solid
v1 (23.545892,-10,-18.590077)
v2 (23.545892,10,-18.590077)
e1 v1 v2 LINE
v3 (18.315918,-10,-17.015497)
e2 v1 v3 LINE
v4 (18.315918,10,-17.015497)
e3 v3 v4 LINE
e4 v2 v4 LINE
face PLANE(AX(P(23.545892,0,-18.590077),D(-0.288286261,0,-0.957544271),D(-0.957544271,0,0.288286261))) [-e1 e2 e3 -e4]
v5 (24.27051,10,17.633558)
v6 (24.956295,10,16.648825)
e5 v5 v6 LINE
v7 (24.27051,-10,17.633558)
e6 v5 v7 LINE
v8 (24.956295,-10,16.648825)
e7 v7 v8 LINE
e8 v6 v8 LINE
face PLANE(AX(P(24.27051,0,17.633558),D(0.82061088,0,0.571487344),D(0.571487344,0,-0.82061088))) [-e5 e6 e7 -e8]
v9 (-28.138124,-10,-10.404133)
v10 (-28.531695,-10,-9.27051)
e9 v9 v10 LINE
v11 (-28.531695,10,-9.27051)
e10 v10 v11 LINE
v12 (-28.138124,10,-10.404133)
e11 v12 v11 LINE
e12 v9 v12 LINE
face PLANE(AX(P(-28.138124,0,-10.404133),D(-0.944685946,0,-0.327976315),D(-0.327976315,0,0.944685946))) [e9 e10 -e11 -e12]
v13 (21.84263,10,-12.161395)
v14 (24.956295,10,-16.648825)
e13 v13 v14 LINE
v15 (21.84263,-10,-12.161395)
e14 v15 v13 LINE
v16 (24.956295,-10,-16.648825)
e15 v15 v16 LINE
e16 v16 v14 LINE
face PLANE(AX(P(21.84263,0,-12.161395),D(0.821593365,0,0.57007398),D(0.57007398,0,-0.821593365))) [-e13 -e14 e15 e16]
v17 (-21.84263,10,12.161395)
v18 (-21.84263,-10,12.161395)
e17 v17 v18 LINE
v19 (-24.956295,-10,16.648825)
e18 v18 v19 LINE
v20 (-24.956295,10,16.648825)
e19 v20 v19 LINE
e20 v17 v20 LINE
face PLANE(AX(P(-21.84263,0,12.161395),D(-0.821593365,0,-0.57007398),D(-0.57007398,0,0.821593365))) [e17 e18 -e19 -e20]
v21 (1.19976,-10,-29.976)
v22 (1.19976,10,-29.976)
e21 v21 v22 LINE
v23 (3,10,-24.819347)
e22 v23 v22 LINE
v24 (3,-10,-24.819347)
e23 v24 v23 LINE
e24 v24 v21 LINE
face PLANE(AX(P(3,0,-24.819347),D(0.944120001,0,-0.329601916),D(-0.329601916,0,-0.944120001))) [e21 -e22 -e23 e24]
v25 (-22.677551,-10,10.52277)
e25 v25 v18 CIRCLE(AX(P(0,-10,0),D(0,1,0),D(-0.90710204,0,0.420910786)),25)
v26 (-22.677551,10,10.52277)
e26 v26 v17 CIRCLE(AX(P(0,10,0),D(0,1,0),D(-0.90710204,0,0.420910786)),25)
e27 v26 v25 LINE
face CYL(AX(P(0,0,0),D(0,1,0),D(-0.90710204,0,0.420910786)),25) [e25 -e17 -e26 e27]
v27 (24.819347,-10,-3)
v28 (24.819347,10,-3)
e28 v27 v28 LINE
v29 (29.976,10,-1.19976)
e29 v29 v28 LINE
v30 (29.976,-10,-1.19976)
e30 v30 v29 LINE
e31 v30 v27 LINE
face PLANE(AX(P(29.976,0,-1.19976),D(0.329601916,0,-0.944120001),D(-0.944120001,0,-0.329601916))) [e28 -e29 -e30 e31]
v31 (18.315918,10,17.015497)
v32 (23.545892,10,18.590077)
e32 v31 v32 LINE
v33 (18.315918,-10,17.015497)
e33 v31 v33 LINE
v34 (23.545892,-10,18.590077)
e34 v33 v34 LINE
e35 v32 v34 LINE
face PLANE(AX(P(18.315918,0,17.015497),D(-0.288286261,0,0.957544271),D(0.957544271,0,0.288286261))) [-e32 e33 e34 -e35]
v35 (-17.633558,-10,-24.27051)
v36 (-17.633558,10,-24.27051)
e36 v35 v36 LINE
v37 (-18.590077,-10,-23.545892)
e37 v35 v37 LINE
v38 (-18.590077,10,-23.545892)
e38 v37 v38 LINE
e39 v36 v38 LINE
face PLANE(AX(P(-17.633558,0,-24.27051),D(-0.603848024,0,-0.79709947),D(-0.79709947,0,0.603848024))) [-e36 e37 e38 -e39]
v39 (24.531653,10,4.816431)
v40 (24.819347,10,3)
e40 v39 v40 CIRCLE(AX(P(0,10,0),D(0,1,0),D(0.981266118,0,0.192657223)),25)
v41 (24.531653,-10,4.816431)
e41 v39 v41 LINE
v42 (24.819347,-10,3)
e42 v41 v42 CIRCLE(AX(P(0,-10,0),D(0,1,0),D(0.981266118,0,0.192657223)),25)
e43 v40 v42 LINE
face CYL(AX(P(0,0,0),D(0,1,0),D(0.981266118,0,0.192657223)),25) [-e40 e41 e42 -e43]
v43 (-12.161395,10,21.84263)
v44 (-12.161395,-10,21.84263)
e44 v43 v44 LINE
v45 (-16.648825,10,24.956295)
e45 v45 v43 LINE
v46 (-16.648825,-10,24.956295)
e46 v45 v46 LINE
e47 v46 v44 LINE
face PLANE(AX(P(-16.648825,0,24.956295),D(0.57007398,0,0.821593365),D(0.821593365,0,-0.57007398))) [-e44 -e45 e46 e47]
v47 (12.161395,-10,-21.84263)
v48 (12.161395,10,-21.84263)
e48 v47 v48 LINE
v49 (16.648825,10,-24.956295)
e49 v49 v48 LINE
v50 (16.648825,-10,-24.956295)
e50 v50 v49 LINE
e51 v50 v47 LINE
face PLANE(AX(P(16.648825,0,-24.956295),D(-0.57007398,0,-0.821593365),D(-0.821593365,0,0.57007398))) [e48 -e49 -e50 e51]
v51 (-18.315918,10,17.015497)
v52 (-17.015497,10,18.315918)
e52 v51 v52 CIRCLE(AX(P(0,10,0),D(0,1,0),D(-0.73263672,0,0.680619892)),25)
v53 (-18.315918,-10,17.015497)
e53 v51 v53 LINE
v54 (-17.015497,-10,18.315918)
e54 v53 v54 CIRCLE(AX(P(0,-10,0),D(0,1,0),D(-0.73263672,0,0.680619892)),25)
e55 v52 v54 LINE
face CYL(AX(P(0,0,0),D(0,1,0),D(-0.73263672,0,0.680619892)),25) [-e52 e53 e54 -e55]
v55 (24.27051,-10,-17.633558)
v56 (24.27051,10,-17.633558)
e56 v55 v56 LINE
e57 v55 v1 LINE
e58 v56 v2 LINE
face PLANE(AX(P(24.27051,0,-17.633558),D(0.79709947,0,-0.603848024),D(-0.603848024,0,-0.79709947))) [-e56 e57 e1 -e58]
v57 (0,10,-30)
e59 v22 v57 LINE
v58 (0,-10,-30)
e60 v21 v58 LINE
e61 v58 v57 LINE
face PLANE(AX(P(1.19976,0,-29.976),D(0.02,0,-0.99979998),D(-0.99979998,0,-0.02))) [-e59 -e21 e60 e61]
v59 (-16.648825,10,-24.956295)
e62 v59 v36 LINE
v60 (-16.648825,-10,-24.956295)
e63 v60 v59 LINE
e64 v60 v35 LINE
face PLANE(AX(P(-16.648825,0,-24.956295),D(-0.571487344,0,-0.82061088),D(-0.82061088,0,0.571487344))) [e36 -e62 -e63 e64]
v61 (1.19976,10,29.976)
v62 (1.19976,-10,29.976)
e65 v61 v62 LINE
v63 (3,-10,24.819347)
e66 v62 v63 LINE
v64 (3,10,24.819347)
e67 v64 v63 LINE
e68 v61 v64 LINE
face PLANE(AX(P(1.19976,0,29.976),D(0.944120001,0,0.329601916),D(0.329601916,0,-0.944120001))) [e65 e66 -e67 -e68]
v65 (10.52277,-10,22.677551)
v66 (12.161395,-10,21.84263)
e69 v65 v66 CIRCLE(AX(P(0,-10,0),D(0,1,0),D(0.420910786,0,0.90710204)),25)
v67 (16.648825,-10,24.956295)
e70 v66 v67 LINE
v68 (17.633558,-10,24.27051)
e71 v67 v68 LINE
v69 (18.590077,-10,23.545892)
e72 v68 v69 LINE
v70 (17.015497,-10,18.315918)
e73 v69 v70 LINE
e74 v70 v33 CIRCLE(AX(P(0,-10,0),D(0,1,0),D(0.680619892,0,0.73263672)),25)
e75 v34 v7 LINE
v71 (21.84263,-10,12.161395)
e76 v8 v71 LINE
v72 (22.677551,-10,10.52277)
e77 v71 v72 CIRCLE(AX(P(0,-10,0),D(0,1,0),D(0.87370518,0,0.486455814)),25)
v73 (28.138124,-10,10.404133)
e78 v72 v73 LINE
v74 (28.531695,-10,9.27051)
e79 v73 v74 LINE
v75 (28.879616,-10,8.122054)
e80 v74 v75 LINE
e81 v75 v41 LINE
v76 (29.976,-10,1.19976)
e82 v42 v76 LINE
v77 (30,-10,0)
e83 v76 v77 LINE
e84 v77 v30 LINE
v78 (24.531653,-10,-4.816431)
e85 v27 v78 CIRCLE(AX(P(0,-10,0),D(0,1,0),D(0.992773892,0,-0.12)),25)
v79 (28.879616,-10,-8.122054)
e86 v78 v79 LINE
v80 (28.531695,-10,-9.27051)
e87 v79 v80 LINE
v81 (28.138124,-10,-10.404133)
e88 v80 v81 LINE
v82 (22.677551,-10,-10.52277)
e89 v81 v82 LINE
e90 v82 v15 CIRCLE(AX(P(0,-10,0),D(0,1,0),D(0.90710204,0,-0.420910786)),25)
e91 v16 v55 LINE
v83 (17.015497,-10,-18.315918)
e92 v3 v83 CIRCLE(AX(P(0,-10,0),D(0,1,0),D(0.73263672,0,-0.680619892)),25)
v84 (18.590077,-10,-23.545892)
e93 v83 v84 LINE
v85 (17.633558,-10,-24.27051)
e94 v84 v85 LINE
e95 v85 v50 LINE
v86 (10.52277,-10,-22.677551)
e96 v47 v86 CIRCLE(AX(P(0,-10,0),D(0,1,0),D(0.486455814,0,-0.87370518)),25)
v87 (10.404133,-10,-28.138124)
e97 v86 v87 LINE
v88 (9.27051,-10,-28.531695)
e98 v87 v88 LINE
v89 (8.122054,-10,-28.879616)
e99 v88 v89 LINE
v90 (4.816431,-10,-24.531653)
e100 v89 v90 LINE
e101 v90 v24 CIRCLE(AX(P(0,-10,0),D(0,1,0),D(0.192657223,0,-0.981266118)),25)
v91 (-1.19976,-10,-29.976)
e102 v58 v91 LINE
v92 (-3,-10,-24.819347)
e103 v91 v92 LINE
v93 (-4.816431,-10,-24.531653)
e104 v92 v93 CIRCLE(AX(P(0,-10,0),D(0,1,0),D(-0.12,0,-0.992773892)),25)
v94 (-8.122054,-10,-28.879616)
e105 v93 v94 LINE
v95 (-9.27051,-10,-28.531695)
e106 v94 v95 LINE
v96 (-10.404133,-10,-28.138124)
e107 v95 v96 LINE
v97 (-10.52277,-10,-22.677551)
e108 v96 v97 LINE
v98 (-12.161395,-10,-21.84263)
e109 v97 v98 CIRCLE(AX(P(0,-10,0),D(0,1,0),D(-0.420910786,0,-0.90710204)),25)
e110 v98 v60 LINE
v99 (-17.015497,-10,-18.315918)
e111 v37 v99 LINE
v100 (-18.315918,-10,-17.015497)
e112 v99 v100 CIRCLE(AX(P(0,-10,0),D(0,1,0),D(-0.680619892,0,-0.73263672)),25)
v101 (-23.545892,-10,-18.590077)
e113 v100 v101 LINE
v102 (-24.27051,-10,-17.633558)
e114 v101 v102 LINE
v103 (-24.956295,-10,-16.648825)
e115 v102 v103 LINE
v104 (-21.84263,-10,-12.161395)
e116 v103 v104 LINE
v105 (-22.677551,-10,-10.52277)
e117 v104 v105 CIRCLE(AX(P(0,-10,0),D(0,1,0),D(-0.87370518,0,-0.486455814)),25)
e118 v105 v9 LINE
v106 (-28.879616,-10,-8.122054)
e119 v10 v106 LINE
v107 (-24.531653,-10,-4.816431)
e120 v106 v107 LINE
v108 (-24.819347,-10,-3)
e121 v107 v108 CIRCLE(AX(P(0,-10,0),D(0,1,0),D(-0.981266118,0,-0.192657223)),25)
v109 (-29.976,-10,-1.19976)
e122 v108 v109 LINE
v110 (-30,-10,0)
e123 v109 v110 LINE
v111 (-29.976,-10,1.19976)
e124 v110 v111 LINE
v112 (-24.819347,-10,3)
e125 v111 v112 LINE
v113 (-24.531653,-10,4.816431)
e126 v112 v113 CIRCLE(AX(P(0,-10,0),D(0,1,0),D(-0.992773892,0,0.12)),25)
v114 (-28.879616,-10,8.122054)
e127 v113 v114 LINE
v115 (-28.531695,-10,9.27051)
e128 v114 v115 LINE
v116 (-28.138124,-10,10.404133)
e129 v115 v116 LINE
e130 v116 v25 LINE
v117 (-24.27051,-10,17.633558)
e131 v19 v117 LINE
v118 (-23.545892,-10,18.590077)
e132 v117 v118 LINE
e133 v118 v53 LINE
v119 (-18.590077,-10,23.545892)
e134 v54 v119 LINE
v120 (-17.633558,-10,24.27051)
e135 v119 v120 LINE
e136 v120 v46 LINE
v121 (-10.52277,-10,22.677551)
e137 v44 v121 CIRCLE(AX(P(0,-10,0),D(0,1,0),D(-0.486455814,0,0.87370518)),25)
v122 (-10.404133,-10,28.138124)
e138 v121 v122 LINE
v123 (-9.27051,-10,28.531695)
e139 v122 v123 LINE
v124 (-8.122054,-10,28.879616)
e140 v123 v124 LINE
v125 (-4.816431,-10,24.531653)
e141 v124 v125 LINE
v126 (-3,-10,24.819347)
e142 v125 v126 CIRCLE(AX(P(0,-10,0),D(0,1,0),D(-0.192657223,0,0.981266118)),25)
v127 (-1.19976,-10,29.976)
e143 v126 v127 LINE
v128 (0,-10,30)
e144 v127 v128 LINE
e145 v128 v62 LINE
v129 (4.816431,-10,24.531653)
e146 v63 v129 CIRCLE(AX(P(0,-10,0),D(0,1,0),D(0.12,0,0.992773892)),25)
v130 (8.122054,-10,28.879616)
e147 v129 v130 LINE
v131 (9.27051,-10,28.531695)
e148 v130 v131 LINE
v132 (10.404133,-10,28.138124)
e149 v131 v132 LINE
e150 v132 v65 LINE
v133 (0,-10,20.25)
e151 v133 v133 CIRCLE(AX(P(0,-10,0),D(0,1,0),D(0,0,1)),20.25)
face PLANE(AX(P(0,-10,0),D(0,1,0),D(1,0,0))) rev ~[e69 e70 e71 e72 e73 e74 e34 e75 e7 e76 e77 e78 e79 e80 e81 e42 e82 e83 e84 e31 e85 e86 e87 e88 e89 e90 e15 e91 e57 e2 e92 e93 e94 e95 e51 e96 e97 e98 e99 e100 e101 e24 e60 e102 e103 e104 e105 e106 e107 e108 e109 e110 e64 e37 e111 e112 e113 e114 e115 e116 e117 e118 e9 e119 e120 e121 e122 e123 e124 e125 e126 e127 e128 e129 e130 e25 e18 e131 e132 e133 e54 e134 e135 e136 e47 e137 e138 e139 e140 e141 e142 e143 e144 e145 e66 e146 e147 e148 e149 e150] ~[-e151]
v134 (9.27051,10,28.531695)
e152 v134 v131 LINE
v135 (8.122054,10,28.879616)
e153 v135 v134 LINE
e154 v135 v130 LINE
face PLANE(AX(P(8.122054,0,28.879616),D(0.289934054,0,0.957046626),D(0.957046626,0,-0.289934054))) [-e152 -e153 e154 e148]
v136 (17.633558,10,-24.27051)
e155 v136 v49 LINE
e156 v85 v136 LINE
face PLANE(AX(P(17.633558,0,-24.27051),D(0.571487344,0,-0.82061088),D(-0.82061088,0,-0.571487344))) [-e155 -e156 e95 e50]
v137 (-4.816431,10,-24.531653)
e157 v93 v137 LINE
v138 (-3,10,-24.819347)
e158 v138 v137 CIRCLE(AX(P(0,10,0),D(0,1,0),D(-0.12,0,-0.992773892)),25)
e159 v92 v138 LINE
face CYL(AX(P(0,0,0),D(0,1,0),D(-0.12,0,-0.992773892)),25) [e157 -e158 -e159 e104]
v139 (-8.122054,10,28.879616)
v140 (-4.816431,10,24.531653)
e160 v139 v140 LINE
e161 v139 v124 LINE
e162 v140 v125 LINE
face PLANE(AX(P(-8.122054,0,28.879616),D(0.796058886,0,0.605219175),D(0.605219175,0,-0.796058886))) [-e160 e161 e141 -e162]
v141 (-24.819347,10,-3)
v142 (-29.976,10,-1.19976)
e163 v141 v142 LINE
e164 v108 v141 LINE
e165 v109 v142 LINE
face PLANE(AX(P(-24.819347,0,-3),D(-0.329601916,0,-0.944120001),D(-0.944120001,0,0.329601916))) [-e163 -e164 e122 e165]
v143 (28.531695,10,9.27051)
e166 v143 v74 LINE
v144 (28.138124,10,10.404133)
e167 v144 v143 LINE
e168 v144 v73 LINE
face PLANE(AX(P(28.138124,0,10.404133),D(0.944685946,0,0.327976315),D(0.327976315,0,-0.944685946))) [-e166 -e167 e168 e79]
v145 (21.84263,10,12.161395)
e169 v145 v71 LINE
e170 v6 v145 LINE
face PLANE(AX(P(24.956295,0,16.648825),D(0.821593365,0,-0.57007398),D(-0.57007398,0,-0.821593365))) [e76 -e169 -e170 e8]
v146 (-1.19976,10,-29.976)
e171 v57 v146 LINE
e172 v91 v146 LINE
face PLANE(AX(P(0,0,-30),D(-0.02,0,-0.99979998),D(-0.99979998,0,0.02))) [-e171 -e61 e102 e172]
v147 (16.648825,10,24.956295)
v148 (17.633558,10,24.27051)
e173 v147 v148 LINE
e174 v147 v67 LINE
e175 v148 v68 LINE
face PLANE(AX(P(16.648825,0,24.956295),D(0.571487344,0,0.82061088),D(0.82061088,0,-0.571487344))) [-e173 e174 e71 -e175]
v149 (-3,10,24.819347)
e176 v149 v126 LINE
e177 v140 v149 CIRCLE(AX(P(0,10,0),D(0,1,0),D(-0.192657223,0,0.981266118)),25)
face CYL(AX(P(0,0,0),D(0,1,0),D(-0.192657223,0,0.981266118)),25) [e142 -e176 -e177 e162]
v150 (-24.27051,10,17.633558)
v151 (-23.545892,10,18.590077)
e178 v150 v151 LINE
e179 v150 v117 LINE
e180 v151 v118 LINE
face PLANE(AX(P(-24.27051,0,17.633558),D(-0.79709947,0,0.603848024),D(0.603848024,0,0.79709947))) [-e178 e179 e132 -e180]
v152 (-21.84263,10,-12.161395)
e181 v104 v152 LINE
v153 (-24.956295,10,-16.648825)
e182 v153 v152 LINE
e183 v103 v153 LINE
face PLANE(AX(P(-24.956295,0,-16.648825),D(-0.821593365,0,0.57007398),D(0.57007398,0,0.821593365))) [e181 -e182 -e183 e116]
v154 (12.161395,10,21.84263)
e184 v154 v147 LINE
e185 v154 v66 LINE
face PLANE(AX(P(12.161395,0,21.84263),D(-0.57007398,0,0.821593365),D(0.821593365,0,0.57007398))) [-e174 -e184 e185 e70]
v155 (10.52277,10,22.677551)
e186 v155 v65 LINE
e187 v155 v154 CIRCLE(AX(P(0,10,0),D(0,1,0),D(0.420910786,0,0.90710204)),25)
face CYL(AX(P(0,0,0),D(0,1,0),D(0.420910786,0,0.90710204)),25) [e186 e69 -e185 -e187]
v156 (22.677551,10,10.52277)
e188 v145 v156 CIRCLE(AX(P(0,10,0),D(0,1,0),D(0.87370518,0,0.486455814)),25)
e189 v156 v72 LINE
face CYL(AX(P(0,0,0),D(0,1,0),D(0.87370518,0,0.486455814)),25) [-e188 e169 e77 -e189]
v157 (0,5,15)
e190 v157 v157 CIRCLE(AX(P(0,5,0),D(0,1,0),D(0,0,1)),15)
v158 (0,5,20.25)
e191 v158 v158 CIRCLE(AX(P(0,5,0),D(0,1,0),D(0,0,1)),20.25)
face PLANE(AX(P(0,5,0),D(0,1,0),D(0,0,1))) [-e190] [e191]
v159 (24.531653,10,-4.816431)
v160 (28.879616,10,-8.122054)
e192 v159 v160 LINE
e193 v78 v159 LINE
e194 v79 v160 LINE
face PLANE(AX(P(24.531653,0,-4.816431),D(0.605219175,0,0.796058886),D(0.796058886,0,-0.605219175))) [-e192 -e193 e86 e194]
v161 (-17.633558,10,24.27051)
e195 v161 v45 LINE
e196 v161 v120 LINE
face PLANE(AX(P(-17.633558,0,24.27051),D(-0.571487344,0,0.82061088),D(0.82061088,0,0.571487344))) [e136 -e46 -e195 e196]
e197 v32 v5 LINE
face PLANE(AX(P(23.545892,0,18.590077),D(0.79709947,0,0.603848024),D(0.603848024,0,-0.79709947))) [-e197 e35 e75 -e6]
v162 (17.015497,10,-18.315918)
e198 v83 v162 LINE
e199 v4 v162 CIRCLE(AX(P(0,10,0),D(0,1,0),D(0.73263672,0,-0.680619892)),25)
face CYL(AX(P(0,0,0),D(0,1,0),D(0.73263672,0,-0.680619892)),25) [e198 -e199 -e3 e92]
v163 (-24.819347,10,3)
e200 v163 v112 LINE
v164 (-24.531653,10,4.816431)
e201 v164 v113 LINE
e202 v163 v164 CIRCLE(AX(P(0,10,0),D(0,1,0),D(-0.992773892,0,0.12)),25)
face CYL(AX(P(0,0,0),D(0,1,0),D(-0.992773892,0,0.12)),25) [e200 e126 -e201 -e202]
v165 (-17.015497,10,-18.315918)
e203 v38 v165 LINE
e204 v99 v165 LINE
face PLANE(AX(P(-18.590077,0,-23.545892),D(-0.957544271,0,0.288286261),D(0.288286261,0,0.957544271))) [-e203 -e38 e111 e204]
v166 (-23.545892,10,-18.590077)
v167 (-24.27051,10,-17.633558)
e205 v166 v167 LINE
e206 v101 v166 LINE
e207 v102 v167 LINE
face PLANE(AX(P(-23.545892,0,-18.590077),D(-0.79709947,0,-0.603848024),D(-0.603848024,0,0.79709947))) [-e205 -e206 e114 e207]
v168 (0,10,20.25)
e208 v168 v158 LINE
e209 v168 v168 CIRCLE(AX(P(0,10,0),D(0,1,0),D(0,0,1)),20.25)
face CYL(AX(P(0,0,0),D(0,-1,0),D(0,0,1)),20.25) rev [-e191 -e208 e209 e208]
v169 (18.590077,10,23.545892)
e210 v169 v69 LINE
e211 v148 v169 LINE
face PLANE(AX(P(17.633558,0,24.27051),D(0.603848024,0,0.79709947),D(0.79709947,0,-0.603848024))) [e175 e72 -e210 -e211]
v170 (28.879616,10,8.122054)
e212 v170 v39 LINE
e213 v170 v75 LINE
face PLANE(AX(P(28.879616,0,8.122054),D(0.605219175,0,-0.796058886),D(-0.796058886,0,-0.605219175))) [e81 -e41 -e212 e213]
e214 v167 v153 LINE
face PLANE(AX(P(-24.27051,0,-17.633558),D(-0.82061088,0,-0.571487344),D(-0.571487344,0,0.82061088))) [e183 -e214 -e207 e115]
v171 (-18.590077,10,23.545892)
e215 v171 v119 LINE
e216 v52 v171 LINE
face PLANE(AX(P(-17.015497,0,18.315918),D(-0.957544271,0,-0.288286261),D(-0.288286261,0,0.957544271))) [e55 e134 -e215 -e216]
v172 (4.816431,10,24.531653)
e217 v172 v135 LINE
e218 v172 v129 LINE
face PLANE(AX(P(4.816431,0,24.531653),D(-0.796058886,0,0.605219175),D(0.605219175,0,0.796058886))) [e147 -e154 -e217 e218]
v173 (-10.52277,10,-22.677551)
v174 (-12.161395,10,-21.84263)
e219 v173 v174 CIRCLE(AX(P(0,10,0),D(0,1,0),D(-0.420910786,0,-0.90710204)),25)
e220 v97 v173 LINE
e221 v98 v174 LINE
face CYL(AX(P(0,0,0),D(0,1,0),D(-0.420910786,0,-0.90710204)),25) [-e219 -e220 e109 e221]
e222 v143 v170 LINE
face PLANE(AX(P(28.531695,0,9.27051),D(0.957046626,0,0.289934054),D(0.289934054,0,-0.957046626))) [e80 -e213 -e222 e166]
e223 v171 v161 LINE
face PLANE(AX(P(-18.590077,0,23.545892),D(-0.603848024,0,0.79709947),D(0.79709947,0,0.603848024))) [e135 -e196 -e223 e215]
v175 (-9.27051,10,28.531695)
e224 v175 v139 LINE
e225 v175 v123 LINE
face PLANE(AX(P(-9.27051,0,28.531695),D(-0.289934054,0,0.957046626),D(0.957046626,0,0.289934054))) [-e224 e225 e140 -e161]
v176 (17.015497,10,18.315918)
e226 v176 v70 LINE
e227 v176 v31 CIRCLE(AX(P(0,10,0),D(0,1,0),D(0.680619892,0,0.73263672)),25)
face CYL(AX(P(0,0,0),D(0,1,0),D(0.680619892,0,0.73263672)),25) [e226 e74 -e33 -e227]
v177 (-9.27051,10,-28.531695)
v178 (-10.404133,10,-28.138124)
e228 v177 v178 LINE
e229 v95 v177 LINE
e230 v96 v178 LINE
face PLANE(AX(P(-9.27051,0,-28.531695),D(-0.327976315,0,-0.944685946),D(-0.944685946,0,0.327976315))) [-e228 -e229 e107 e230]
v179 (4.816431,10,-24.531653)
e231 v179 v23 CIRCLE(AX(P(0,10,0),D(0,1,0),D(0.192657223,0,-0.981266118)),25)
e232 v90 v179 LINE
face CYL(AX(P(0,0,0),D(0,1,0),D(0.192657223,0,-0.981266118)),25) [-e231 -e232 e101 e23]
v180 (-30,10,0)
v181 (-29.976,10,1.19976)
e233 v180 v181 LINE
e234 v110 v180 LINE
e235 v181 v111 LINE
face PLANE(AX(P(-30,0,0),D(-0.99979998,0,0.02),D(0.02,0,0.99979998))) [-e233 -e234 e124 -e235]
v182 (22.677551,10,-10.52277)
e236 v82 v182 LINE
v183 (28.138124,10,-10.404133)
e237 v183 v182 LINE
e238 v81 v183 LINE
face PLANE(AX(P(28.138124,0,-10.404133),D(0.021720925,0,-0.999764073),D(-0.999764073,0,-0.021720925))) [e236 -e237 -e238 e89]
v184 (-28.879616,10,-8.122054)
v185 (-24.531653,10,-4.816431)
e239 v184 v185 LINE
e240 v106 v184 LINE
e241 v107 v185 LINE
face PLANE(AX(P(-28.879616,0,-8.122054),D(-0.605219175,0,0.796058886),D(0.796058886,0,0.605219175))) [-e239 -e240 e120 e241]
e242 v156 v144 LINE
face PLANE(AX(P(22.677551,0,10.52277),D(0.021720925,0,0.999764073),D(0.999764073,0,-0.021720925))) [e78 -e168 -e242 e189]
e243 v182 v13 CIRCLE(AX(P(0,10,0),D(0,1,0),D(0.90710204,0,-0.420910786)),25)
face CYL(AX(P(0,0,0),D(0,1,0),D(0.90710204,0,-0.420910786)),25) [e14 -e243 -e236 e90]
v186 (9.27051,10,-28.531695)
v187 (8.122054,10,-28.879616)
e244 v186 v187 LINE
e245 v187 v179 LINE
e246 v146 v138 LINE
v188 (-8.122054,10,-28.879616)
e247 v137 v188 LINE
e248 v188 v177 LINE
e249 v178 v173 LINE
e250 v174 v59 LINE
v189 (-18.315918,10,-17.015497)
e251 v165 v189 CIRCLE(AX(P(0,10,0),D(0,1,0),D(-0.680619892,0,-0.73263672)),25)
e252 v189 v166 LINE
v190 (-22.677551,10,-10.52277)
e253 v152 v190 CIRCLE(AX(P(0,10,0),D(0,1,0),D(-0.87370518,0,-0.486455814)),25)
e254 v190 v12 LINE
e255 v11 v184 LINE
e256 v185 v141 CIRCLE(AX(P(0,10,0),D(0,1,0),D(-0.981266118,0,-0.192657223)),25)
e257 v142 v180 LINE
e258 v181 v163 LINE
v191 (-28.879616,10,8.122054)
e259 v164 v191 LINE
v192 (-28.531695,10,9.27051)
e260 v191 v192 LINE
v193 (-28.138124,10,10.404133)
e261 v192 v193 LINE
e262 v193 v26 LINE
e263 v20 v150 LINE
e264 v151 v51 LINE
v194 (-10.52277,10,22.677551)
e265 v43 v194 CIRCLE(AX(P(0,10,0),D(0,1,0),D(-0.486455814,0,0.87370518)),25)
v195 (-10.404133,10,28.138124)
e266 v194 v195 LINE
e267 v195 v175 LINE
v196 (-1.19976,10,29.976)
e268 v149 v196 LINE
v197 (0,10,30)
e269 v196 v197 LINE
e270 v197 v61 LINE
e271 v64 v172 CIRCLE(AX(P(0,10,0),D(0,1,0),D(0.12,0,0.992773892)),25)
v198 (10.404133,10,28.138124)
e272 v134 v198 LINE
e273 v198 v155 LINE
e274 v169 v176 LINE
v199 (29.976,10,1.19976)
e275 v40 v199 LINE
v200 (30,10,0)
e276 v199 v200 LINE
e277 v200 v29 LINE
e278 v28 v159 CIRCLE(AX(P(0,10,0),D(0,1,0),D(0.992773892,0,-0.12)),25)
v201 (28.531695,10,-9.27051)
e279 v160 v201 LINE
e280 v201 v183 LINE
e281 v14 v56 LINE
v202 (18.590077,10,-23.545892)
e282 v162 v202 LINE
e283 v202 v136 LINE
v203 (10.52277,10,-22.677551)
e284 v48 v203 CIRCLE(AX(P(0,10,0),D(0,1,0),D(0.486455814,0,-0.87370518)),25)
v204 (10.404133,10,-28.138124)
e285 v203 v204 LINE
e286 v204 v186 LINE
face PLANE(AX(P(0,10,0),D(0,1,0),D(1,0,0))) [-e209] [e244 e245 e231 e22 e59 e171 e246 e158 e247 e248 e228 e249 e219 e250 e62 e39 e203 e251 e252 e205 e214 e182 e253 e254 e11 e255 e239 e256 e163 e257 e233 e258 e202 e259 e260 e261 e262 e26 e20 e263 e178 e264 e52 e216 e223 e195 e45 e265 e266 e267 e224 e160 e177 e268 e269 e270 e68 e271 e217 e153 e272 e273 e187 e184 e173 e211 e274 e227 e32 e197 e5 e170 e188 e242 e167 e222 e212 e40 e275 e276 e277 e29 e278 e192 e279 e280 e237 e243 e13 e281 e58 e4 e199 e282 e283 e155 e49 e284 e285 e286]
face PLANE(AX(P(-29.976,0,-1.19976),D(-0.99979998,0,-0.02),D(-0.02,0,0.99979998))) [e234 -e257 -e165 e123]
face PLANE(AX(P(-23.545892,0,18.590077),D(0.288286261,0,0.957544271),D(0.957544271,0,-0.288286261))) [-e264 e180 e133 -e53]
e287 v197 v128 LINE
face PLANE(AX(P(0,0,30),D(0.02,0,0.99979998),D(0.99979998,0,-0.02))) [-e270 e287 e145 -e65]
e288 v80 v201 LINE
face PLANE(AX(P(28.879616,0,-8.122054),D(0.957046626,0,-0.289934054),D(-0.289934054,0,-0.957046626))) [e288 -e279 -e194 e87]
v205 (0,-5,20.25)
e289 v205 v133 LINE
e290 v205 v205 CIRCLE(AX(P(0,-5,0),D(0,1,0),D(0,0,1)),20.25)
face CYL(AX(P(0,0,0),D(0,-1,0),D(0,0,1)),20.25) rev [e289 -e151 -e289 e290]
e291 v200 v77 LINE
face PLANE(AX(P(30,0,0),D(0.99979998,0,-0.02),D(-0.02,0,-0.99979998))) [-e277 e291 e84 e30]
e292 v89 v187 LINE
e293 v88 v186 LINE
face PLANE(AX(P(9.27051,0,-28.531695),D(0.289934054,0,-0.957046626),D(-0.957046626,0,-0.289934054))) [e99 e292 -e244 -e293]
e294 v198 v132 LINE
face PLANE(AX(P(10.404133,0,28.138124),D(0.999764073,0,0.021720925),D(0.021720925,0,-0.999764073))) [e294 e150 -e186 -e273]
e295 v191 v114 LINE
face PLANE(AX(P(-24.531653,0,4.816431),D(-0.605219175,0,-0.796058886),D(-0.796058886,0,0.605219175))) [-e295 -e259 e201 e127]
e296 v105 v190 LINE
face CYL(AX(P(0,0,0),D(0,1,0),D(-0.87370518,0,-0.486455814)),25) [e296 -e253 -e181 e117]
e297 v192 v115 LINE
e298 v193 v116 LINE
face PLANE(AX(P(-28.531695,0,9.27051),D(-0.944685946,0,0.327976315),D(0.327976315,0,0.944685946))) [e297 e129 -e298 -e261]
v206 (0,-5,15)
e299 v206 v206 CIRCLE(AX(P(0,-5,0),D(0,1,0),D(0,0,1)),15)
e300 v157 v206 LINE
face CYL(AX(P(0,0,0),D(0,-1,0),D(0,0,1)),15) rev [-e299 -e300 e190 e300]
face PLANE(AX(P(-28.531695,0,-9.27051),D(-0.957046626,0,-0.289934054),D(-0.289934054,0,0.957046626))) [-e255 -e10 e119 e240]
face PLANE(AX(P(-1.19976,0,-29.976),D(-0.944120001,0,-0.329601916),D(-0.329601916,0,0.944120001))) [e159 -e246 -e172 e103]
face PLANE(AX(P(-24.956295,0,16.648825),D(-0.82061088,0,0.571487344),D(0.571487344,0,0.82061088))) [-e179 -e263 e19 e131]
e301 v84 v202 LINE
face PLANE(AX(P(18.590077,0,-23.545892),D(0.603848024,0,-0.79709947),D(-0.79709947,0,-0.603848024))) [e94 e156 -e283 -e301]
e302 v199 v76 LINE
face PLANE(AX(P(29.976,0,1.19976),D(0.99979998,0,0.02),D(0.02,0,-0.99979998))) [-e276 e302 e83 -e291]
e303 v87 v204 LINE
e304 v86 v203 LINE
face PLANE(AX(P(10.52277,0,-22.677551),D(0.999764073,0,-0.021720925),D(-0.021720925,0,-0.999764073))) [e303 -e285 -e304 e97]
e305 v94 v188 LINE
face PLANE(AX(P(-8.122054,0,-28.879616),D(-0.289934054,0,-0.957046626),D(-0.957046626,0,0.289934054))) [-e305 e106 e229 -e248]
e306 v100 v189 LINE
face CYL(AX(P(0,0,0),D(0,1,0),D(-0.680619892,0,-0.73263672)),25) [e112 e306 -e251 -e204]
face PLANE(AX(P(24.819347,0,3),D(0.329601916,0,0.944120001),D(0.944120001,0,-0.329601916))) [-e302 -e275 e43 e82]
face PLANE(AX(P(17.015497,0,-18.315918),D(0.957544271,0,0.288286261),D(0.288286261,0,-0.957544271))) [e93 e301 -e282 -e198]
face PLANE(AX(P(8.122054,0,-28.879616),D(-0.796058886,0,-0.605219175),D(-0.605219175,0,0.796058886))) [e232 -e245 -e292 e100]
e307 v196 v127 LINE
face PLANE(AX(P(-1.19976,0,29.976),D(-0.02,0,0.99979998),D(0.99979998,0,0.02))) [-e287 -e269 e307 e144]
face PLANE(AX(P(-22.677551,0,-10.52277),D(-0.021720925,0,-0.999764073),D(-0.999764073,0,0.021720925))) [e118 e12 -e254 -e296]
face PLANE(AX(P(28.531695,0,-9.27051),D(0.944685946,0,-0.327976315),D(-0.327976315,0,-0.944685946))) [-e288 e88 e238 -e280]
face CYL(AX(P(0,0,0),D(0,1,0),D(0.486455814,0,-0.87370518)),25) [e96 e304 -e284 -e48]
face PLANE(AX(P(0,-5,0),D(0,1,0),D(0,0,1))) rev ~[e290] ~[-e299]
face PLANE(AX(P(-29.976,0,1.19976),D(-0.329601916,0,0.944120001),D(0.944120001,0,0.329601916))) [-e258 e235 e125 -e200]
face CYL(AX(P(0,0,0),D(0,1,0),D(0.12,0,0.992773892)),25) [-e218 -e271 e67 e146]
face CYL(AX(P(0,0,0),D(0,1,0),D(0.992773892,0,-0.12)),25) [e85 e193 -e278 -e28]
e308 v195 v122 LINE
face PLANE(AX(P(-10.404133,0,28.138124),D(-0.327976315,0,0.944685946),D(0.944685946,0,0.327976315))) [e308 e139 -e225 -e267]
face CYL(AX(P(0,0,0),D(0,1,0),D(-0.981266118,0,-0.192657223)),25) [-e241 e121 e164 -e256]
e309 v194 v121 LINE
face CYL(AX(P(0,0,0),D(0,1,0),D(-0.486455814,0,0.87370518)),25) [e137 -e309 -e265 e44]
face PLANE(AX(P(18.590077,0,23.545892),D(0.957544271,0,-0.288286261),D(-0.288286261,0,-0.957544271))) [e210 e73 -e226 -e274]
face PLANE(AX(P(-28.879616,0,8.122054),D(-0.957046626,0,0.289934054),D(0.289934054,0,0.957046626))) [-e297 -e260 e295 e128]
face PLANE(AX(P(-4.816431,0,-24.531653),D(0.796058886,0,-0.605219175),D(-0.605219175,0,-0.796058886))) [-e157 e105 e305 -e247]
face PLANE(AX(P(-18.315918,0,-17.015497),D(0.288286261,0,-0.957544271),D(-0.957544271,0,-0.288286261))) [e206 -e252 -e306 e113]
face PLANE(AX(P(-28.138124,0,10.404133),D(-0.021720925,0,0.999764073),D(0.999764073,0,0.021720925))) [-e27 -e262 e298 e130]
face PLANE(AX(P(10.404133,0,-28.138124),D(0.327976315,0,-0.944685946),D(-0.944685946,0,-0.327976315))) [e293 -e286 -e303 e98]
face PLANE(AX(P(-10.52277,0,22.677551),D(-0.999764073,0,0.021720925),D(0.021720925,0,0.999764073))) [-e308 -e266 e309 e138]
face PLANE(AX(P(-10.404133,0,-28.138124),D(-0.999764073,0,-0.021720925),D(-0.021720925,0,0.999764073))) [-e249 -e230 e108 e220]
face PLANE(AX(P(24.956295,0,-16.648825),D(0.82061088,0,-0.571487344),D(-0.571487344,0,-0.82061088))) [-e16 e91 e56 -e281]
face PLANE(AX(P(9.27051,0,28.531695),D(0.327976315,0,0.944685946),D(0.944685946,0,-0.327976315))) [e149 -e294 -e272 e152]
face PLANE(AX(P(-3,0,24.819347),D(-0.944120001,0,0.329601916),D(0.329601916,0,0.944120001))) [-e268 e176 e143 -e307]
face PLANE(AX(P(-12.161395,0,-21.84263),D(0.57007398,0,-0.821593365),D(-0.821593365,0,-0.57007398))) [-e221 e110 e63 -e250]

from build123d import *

# Parameters (mm, degrees)
SKETCH1_R           = 20.25
BOSS_EXTRUDE1_DEPTH = 10
SKETCH1_3_R         = 20.25
SKETCH1_3_R_2       = 15
BOSS_EXTRUDE2_DEPTH = 5


with BuildPart() as part:
    # Sketch1 → Boss-Extrude1 (new, symmetric)
    with BuildSketch(Plane(origin=(0, 0, 0), x_dir=(1, 0, 0), z_dir=(0, 1, 0))):
        with BuildLine():
            Line((29.976, -1.199759976), (30, 0))
            Line((30, 0), (29.976, 1.199759976))
            Line((29.976, 1.199759976), (24.819347292, 3))
            ThreePointArc((24.819347292, 3), (24.692208515, 3.910861626), (24.531652955, 4.816430554))
            Line((24.531652955, 4.816430554), (28.879616354, 8.12205388))
            Line((28.879616354, 8.12205388), (28.531695489, 9.270509831))
            Line((28.531695489, 9.270509831), (28.138123911, 10.404132967))
            Line((28.138123911, 10.404132967), (22.677550989, 10.522769651))
            ThreePointArc((22.677550989, 10.522769651), (22.275163105, 11.349762493), (21.842629505, 12.161395327))
            Line((21.842629505, 12.161395327), (24.956294644, 16.648824513))
            Line((24.956294644, 16.648824513), (24.270509831, 17.633557569))
            Line((24.270509831, 17.633557569), (23.545892203, 18.590076932))
            Line((23.545892203, 18.590076932), (18.315917992, 17.015497293))
            ThreePointArc((18.315917992, 17.015497293), (17.67766953, 17.67766953), (17.015497293, 18.315917992))
            Line((17.015497293, 18.315917992), (18.590076932, 23.545892203))
            Line((18.590076932, 23.545892203), (17.633557569, 24.270509831))
            Line((17.633557569, 24.270509831), (16.648824513, 24.956294644))
            Line((16.648824513, 24.956294644), (12.161395327, 21.842629505))
            ThreePointArc((12.161395327, 21.842629505), (11.349762493, 22.275163105), (10.522769651, 22.677550989))
            Line((10.522769651, 22.677550989), (10.404132967, 28.138123911))
            Line((10.404132967, 28.138123911), (9.270509831, 28.531695489))
            Line((9.270509831, 28.531695489), (8.12205388, 28.879616354))
            Line((8.12205388, 28.879616354), (4.816430554, 24.531652955))
            ThreePointArc((4.816430554, 24.531652955), (3.910861626, 24.692208515), (3, 24.819347292))
            Line((3, 24.819347292), (1.199759976, 29.976))
            Line((1.199759976, 29.976), (0, 30))
            Line((0, 30), (-1.199759976, 29.976))
            Line((-1.199759976, 29.976), (-3, 24.819347292))
            ThreePointArc((-3, 24.819347292), (-3.910861626, 24.692208515), (-4.816430554, 24.531652955))
            Line((-4.816430554, 24.531652955), (-8.12205388, 28.879616354))
            Line((-8.12205388, 28.879616354), (-9.270509831, 28.531695489))
            Line((-9.270509831, 28.531695489), (-10.404132967, 28.138123911))
            Line((-10.404132967, 28.138123911), (-10.522769651, 22.677550989))
            ThreePointArc((-10.522769651, 22.677550989), (-11.349762493, 22.275163105), (-12.161395327, 21.842629505))
            Line((-12.161395327, 21.842629505), (-16.648824513, 24.956294644))
            Line((-16.648824513, 24.956294644), (-17.633557569, 24.270509831))
            Line((-17.633557569, 24.270509831), (-18.590076932, 23.545892203))
            Line((-18.590076932, 23.545892203), (-17.015497293, 18.315917992))
            ThreePointArc((-17.015497293, 18.315917992), (-17.67766953, 17.67766953), (-18.315917992, 17.015497293))
            Line((-18.315917992, 17.015497293), (-23.545892203, 18.590076932))
            Line((-23.545892203, 18.590076932), (-24.270509831, 17.633557569))
            Line((-24.270509831, 17.633557569), (-24.956294644, 16.648824513))
            Line((-24.956294644, 16.648824513), (-21.842629505, 12.161395327))
            ThreePointArc((-21.842629505, 12.161395327), (-22.275163105, 11.349762493), (-22.677550989, 10.522769651))
            Line((-22.677550989, 10.522769651), (-28.138123911, 10.404132967))
            Line((-28.138123911, 10.404132967), (-28.531695489, 9.270509831))
            Line((-28.531695489, 9.270509831), (-28.879616354, 8.12205388))
            Line((-28.879616354, 8.12205388), (-24.531652955, 4.816430554))
            ThreePointArc((-24.531652955, 4.816430554), (-24.692208515, 3.910861626), (-24.819347292, 3))
            Line((-24.819347292, 3), (-29.976, 1.199759976))
            Line((-29.976, 1.199759976), (-30, 0))
            Line((-30, 0), (-29.976, -1.199759976))
            Line((-29.976, -1.199759976), (-24.819347292, -3))
            ThreePointArc((-24.819347292, -3), (-24.692208515, -3.910861626), (-24.531652955, -4.816430554))
            Line((-24.531652955, -4.816430554), (-28.879616354, -8.12205388))
            Line((-28.879616354, -8.12205388), (-28.531695489, -9.270509831))
            Line((-28.531695489, -9.270509831), (-28.138123911, -10.404132967))
            Line((-28.138123911, -10.404132967), (-22.677550989, -10.522769651))
            ThreePointArc((-22.677550989, -10.522769651), (-22.275163105, -11.349762493), (-21.842629505, -12.161395327))
            Line((-21.842629505, -12.161395327), (-24.956294644, -16.648824513))
            Line((-24.956294644, -16.648824513), (-24.270509831, -17.633557569))
            Line((-24.270509831, -17.633557569), (-23.545892203, -18.590076932))
            Line((-23.545892203, -18.590076932), (-18.315917992, -17.015497293))
            ThreePointArc((-18.315917992, -17.015497293), (-17.67766953, -17.67766953), (-17.015497293, -18.315917992))
            Line((-17.015497293, -18.315917992), (-18.590076932, -23.545892203))
            Line((-18.590076932, -23.545892203), (-17.633557569, -24.270509831))
            Line((-17.633557569, -24.270509831), (-16.648824513, -24.956294644))
            Line((-16.648824513, -24.956294644), (-12.161395327, -21.842629505))
            ThreePointArc((-12.161395327, -21.842629505), (-11.349762493, -22.275163105), (-10.522769651, -22.677550989))
            Line((-10.522769651, -22.677550989), (-10.404132967, -28.138123911))
            Line((-10.404132967, -28.138123911), (-9.270509831, -28.531695489))
            Line((-9.270509831, -28.531695489), (-8.12205388, -28.879616354))
            Line((-8.12205388, -28.879616354), (-4.816430554, -24.531652955))
            ThreePointArc((-4.816430554, -24.531652955), (-3.910861626, -24.692208515), (-3, -24.819347292))
            Line((-3, -24.819347292), (-1.199759976, -29.976))
            Line((-1.199759976, -29.976), (0, -30))
            Line((0, -30), (1.199759976, -29.976))
            Line((1.199759976, -29.976), (3, -24.819347292))
            ThreePointArc((3, -24.819347292), (3.910861626, -24.692208515), (4.816430554, -24.531652955))
            Line((4.816430554, -24.531652955), (8.12205388, -28.879616354))
            Line((8.12205388, -28.879616354), (9.270509831, -28.531695489))
            Line((9.270509831, -28.531695489), (10.404132967, -28.138123911))
            Line((10.404132967, -28.138123911), (10.522769651, -22.677550989))
            ThreePointArc((10.522769651, -22.677550989), (11.349762493, -22.275163105), (12.161395327, -21.842629505))
            Line((12.161395327, -21.842629505), (16.648824513, -24.956294644))
            Line((16.648824513, -24.956294644), (17.633557569, -24.270509831))
            Line((17.633557569, -24.270509831), (18.590076932, -23.545892203))
            Line((18.590076932, -23.545892203), (17.015497293, -18.315917992))
            ThreePointArc((17.015497293, -18.315917992), (17.67766953, -17.67766953), (18.315917992, -17.015497293))
            Line((18.315917992, -17.015497293), (23.545892203, -18.590076932))
            Line((23.545892203, -18.590076932), (24.270509831, -17.633557569))
            Line((24.270509831, -17.633557569), (24.956294644, -16.648824513))
            Line((24.956294644, -16.648824513), (21.842629505, -12.161395327))
            ThreePointArc((21.842629505, -12.161395327), (22.275163105, -11.349762493), (22.677550989, -10.522769651))
            Line((22.677550989, -10.522769651), (28.138123911, -10.404132967))
            Line((28.138123911, -10.404132967), (28.531695489, -9.270509831))
            Line((28.531695489, -9.270509831), (28.879616354, -8.12205388))
            Line((28.879616354, -8.12205388), (24.531652955, -4.816430554))
            ThreePointArc((24.531652955, -4.816430554), (24.692208515, -3.910861626), (24.819347292, -3))
            Line((24.819347292, -3), (29.976, -1.199759976))
        make_face()
        Circle(SKETCH1_R, mode=Mode.SUBTRACT)
    extrude(amount=BOSS_EXTRUDE1_DEPTH, both=True)

    # Sketch1<3> → Boss-Extrude2 (add, symmetric)
    with BuildSketch(Plane(origin=(0, 0, 0), x_dir=(1, 0, 0), z_dir=(0, 1, 0))):
        Circle(SKETCH1_3_R)
        Circle(SKETCH1_3_R_2, mode=Mode.SUBTRACT)
    extrude(amount=BOSS_EXTRUDE2_DEPTH, both=True)


solid = part.part
